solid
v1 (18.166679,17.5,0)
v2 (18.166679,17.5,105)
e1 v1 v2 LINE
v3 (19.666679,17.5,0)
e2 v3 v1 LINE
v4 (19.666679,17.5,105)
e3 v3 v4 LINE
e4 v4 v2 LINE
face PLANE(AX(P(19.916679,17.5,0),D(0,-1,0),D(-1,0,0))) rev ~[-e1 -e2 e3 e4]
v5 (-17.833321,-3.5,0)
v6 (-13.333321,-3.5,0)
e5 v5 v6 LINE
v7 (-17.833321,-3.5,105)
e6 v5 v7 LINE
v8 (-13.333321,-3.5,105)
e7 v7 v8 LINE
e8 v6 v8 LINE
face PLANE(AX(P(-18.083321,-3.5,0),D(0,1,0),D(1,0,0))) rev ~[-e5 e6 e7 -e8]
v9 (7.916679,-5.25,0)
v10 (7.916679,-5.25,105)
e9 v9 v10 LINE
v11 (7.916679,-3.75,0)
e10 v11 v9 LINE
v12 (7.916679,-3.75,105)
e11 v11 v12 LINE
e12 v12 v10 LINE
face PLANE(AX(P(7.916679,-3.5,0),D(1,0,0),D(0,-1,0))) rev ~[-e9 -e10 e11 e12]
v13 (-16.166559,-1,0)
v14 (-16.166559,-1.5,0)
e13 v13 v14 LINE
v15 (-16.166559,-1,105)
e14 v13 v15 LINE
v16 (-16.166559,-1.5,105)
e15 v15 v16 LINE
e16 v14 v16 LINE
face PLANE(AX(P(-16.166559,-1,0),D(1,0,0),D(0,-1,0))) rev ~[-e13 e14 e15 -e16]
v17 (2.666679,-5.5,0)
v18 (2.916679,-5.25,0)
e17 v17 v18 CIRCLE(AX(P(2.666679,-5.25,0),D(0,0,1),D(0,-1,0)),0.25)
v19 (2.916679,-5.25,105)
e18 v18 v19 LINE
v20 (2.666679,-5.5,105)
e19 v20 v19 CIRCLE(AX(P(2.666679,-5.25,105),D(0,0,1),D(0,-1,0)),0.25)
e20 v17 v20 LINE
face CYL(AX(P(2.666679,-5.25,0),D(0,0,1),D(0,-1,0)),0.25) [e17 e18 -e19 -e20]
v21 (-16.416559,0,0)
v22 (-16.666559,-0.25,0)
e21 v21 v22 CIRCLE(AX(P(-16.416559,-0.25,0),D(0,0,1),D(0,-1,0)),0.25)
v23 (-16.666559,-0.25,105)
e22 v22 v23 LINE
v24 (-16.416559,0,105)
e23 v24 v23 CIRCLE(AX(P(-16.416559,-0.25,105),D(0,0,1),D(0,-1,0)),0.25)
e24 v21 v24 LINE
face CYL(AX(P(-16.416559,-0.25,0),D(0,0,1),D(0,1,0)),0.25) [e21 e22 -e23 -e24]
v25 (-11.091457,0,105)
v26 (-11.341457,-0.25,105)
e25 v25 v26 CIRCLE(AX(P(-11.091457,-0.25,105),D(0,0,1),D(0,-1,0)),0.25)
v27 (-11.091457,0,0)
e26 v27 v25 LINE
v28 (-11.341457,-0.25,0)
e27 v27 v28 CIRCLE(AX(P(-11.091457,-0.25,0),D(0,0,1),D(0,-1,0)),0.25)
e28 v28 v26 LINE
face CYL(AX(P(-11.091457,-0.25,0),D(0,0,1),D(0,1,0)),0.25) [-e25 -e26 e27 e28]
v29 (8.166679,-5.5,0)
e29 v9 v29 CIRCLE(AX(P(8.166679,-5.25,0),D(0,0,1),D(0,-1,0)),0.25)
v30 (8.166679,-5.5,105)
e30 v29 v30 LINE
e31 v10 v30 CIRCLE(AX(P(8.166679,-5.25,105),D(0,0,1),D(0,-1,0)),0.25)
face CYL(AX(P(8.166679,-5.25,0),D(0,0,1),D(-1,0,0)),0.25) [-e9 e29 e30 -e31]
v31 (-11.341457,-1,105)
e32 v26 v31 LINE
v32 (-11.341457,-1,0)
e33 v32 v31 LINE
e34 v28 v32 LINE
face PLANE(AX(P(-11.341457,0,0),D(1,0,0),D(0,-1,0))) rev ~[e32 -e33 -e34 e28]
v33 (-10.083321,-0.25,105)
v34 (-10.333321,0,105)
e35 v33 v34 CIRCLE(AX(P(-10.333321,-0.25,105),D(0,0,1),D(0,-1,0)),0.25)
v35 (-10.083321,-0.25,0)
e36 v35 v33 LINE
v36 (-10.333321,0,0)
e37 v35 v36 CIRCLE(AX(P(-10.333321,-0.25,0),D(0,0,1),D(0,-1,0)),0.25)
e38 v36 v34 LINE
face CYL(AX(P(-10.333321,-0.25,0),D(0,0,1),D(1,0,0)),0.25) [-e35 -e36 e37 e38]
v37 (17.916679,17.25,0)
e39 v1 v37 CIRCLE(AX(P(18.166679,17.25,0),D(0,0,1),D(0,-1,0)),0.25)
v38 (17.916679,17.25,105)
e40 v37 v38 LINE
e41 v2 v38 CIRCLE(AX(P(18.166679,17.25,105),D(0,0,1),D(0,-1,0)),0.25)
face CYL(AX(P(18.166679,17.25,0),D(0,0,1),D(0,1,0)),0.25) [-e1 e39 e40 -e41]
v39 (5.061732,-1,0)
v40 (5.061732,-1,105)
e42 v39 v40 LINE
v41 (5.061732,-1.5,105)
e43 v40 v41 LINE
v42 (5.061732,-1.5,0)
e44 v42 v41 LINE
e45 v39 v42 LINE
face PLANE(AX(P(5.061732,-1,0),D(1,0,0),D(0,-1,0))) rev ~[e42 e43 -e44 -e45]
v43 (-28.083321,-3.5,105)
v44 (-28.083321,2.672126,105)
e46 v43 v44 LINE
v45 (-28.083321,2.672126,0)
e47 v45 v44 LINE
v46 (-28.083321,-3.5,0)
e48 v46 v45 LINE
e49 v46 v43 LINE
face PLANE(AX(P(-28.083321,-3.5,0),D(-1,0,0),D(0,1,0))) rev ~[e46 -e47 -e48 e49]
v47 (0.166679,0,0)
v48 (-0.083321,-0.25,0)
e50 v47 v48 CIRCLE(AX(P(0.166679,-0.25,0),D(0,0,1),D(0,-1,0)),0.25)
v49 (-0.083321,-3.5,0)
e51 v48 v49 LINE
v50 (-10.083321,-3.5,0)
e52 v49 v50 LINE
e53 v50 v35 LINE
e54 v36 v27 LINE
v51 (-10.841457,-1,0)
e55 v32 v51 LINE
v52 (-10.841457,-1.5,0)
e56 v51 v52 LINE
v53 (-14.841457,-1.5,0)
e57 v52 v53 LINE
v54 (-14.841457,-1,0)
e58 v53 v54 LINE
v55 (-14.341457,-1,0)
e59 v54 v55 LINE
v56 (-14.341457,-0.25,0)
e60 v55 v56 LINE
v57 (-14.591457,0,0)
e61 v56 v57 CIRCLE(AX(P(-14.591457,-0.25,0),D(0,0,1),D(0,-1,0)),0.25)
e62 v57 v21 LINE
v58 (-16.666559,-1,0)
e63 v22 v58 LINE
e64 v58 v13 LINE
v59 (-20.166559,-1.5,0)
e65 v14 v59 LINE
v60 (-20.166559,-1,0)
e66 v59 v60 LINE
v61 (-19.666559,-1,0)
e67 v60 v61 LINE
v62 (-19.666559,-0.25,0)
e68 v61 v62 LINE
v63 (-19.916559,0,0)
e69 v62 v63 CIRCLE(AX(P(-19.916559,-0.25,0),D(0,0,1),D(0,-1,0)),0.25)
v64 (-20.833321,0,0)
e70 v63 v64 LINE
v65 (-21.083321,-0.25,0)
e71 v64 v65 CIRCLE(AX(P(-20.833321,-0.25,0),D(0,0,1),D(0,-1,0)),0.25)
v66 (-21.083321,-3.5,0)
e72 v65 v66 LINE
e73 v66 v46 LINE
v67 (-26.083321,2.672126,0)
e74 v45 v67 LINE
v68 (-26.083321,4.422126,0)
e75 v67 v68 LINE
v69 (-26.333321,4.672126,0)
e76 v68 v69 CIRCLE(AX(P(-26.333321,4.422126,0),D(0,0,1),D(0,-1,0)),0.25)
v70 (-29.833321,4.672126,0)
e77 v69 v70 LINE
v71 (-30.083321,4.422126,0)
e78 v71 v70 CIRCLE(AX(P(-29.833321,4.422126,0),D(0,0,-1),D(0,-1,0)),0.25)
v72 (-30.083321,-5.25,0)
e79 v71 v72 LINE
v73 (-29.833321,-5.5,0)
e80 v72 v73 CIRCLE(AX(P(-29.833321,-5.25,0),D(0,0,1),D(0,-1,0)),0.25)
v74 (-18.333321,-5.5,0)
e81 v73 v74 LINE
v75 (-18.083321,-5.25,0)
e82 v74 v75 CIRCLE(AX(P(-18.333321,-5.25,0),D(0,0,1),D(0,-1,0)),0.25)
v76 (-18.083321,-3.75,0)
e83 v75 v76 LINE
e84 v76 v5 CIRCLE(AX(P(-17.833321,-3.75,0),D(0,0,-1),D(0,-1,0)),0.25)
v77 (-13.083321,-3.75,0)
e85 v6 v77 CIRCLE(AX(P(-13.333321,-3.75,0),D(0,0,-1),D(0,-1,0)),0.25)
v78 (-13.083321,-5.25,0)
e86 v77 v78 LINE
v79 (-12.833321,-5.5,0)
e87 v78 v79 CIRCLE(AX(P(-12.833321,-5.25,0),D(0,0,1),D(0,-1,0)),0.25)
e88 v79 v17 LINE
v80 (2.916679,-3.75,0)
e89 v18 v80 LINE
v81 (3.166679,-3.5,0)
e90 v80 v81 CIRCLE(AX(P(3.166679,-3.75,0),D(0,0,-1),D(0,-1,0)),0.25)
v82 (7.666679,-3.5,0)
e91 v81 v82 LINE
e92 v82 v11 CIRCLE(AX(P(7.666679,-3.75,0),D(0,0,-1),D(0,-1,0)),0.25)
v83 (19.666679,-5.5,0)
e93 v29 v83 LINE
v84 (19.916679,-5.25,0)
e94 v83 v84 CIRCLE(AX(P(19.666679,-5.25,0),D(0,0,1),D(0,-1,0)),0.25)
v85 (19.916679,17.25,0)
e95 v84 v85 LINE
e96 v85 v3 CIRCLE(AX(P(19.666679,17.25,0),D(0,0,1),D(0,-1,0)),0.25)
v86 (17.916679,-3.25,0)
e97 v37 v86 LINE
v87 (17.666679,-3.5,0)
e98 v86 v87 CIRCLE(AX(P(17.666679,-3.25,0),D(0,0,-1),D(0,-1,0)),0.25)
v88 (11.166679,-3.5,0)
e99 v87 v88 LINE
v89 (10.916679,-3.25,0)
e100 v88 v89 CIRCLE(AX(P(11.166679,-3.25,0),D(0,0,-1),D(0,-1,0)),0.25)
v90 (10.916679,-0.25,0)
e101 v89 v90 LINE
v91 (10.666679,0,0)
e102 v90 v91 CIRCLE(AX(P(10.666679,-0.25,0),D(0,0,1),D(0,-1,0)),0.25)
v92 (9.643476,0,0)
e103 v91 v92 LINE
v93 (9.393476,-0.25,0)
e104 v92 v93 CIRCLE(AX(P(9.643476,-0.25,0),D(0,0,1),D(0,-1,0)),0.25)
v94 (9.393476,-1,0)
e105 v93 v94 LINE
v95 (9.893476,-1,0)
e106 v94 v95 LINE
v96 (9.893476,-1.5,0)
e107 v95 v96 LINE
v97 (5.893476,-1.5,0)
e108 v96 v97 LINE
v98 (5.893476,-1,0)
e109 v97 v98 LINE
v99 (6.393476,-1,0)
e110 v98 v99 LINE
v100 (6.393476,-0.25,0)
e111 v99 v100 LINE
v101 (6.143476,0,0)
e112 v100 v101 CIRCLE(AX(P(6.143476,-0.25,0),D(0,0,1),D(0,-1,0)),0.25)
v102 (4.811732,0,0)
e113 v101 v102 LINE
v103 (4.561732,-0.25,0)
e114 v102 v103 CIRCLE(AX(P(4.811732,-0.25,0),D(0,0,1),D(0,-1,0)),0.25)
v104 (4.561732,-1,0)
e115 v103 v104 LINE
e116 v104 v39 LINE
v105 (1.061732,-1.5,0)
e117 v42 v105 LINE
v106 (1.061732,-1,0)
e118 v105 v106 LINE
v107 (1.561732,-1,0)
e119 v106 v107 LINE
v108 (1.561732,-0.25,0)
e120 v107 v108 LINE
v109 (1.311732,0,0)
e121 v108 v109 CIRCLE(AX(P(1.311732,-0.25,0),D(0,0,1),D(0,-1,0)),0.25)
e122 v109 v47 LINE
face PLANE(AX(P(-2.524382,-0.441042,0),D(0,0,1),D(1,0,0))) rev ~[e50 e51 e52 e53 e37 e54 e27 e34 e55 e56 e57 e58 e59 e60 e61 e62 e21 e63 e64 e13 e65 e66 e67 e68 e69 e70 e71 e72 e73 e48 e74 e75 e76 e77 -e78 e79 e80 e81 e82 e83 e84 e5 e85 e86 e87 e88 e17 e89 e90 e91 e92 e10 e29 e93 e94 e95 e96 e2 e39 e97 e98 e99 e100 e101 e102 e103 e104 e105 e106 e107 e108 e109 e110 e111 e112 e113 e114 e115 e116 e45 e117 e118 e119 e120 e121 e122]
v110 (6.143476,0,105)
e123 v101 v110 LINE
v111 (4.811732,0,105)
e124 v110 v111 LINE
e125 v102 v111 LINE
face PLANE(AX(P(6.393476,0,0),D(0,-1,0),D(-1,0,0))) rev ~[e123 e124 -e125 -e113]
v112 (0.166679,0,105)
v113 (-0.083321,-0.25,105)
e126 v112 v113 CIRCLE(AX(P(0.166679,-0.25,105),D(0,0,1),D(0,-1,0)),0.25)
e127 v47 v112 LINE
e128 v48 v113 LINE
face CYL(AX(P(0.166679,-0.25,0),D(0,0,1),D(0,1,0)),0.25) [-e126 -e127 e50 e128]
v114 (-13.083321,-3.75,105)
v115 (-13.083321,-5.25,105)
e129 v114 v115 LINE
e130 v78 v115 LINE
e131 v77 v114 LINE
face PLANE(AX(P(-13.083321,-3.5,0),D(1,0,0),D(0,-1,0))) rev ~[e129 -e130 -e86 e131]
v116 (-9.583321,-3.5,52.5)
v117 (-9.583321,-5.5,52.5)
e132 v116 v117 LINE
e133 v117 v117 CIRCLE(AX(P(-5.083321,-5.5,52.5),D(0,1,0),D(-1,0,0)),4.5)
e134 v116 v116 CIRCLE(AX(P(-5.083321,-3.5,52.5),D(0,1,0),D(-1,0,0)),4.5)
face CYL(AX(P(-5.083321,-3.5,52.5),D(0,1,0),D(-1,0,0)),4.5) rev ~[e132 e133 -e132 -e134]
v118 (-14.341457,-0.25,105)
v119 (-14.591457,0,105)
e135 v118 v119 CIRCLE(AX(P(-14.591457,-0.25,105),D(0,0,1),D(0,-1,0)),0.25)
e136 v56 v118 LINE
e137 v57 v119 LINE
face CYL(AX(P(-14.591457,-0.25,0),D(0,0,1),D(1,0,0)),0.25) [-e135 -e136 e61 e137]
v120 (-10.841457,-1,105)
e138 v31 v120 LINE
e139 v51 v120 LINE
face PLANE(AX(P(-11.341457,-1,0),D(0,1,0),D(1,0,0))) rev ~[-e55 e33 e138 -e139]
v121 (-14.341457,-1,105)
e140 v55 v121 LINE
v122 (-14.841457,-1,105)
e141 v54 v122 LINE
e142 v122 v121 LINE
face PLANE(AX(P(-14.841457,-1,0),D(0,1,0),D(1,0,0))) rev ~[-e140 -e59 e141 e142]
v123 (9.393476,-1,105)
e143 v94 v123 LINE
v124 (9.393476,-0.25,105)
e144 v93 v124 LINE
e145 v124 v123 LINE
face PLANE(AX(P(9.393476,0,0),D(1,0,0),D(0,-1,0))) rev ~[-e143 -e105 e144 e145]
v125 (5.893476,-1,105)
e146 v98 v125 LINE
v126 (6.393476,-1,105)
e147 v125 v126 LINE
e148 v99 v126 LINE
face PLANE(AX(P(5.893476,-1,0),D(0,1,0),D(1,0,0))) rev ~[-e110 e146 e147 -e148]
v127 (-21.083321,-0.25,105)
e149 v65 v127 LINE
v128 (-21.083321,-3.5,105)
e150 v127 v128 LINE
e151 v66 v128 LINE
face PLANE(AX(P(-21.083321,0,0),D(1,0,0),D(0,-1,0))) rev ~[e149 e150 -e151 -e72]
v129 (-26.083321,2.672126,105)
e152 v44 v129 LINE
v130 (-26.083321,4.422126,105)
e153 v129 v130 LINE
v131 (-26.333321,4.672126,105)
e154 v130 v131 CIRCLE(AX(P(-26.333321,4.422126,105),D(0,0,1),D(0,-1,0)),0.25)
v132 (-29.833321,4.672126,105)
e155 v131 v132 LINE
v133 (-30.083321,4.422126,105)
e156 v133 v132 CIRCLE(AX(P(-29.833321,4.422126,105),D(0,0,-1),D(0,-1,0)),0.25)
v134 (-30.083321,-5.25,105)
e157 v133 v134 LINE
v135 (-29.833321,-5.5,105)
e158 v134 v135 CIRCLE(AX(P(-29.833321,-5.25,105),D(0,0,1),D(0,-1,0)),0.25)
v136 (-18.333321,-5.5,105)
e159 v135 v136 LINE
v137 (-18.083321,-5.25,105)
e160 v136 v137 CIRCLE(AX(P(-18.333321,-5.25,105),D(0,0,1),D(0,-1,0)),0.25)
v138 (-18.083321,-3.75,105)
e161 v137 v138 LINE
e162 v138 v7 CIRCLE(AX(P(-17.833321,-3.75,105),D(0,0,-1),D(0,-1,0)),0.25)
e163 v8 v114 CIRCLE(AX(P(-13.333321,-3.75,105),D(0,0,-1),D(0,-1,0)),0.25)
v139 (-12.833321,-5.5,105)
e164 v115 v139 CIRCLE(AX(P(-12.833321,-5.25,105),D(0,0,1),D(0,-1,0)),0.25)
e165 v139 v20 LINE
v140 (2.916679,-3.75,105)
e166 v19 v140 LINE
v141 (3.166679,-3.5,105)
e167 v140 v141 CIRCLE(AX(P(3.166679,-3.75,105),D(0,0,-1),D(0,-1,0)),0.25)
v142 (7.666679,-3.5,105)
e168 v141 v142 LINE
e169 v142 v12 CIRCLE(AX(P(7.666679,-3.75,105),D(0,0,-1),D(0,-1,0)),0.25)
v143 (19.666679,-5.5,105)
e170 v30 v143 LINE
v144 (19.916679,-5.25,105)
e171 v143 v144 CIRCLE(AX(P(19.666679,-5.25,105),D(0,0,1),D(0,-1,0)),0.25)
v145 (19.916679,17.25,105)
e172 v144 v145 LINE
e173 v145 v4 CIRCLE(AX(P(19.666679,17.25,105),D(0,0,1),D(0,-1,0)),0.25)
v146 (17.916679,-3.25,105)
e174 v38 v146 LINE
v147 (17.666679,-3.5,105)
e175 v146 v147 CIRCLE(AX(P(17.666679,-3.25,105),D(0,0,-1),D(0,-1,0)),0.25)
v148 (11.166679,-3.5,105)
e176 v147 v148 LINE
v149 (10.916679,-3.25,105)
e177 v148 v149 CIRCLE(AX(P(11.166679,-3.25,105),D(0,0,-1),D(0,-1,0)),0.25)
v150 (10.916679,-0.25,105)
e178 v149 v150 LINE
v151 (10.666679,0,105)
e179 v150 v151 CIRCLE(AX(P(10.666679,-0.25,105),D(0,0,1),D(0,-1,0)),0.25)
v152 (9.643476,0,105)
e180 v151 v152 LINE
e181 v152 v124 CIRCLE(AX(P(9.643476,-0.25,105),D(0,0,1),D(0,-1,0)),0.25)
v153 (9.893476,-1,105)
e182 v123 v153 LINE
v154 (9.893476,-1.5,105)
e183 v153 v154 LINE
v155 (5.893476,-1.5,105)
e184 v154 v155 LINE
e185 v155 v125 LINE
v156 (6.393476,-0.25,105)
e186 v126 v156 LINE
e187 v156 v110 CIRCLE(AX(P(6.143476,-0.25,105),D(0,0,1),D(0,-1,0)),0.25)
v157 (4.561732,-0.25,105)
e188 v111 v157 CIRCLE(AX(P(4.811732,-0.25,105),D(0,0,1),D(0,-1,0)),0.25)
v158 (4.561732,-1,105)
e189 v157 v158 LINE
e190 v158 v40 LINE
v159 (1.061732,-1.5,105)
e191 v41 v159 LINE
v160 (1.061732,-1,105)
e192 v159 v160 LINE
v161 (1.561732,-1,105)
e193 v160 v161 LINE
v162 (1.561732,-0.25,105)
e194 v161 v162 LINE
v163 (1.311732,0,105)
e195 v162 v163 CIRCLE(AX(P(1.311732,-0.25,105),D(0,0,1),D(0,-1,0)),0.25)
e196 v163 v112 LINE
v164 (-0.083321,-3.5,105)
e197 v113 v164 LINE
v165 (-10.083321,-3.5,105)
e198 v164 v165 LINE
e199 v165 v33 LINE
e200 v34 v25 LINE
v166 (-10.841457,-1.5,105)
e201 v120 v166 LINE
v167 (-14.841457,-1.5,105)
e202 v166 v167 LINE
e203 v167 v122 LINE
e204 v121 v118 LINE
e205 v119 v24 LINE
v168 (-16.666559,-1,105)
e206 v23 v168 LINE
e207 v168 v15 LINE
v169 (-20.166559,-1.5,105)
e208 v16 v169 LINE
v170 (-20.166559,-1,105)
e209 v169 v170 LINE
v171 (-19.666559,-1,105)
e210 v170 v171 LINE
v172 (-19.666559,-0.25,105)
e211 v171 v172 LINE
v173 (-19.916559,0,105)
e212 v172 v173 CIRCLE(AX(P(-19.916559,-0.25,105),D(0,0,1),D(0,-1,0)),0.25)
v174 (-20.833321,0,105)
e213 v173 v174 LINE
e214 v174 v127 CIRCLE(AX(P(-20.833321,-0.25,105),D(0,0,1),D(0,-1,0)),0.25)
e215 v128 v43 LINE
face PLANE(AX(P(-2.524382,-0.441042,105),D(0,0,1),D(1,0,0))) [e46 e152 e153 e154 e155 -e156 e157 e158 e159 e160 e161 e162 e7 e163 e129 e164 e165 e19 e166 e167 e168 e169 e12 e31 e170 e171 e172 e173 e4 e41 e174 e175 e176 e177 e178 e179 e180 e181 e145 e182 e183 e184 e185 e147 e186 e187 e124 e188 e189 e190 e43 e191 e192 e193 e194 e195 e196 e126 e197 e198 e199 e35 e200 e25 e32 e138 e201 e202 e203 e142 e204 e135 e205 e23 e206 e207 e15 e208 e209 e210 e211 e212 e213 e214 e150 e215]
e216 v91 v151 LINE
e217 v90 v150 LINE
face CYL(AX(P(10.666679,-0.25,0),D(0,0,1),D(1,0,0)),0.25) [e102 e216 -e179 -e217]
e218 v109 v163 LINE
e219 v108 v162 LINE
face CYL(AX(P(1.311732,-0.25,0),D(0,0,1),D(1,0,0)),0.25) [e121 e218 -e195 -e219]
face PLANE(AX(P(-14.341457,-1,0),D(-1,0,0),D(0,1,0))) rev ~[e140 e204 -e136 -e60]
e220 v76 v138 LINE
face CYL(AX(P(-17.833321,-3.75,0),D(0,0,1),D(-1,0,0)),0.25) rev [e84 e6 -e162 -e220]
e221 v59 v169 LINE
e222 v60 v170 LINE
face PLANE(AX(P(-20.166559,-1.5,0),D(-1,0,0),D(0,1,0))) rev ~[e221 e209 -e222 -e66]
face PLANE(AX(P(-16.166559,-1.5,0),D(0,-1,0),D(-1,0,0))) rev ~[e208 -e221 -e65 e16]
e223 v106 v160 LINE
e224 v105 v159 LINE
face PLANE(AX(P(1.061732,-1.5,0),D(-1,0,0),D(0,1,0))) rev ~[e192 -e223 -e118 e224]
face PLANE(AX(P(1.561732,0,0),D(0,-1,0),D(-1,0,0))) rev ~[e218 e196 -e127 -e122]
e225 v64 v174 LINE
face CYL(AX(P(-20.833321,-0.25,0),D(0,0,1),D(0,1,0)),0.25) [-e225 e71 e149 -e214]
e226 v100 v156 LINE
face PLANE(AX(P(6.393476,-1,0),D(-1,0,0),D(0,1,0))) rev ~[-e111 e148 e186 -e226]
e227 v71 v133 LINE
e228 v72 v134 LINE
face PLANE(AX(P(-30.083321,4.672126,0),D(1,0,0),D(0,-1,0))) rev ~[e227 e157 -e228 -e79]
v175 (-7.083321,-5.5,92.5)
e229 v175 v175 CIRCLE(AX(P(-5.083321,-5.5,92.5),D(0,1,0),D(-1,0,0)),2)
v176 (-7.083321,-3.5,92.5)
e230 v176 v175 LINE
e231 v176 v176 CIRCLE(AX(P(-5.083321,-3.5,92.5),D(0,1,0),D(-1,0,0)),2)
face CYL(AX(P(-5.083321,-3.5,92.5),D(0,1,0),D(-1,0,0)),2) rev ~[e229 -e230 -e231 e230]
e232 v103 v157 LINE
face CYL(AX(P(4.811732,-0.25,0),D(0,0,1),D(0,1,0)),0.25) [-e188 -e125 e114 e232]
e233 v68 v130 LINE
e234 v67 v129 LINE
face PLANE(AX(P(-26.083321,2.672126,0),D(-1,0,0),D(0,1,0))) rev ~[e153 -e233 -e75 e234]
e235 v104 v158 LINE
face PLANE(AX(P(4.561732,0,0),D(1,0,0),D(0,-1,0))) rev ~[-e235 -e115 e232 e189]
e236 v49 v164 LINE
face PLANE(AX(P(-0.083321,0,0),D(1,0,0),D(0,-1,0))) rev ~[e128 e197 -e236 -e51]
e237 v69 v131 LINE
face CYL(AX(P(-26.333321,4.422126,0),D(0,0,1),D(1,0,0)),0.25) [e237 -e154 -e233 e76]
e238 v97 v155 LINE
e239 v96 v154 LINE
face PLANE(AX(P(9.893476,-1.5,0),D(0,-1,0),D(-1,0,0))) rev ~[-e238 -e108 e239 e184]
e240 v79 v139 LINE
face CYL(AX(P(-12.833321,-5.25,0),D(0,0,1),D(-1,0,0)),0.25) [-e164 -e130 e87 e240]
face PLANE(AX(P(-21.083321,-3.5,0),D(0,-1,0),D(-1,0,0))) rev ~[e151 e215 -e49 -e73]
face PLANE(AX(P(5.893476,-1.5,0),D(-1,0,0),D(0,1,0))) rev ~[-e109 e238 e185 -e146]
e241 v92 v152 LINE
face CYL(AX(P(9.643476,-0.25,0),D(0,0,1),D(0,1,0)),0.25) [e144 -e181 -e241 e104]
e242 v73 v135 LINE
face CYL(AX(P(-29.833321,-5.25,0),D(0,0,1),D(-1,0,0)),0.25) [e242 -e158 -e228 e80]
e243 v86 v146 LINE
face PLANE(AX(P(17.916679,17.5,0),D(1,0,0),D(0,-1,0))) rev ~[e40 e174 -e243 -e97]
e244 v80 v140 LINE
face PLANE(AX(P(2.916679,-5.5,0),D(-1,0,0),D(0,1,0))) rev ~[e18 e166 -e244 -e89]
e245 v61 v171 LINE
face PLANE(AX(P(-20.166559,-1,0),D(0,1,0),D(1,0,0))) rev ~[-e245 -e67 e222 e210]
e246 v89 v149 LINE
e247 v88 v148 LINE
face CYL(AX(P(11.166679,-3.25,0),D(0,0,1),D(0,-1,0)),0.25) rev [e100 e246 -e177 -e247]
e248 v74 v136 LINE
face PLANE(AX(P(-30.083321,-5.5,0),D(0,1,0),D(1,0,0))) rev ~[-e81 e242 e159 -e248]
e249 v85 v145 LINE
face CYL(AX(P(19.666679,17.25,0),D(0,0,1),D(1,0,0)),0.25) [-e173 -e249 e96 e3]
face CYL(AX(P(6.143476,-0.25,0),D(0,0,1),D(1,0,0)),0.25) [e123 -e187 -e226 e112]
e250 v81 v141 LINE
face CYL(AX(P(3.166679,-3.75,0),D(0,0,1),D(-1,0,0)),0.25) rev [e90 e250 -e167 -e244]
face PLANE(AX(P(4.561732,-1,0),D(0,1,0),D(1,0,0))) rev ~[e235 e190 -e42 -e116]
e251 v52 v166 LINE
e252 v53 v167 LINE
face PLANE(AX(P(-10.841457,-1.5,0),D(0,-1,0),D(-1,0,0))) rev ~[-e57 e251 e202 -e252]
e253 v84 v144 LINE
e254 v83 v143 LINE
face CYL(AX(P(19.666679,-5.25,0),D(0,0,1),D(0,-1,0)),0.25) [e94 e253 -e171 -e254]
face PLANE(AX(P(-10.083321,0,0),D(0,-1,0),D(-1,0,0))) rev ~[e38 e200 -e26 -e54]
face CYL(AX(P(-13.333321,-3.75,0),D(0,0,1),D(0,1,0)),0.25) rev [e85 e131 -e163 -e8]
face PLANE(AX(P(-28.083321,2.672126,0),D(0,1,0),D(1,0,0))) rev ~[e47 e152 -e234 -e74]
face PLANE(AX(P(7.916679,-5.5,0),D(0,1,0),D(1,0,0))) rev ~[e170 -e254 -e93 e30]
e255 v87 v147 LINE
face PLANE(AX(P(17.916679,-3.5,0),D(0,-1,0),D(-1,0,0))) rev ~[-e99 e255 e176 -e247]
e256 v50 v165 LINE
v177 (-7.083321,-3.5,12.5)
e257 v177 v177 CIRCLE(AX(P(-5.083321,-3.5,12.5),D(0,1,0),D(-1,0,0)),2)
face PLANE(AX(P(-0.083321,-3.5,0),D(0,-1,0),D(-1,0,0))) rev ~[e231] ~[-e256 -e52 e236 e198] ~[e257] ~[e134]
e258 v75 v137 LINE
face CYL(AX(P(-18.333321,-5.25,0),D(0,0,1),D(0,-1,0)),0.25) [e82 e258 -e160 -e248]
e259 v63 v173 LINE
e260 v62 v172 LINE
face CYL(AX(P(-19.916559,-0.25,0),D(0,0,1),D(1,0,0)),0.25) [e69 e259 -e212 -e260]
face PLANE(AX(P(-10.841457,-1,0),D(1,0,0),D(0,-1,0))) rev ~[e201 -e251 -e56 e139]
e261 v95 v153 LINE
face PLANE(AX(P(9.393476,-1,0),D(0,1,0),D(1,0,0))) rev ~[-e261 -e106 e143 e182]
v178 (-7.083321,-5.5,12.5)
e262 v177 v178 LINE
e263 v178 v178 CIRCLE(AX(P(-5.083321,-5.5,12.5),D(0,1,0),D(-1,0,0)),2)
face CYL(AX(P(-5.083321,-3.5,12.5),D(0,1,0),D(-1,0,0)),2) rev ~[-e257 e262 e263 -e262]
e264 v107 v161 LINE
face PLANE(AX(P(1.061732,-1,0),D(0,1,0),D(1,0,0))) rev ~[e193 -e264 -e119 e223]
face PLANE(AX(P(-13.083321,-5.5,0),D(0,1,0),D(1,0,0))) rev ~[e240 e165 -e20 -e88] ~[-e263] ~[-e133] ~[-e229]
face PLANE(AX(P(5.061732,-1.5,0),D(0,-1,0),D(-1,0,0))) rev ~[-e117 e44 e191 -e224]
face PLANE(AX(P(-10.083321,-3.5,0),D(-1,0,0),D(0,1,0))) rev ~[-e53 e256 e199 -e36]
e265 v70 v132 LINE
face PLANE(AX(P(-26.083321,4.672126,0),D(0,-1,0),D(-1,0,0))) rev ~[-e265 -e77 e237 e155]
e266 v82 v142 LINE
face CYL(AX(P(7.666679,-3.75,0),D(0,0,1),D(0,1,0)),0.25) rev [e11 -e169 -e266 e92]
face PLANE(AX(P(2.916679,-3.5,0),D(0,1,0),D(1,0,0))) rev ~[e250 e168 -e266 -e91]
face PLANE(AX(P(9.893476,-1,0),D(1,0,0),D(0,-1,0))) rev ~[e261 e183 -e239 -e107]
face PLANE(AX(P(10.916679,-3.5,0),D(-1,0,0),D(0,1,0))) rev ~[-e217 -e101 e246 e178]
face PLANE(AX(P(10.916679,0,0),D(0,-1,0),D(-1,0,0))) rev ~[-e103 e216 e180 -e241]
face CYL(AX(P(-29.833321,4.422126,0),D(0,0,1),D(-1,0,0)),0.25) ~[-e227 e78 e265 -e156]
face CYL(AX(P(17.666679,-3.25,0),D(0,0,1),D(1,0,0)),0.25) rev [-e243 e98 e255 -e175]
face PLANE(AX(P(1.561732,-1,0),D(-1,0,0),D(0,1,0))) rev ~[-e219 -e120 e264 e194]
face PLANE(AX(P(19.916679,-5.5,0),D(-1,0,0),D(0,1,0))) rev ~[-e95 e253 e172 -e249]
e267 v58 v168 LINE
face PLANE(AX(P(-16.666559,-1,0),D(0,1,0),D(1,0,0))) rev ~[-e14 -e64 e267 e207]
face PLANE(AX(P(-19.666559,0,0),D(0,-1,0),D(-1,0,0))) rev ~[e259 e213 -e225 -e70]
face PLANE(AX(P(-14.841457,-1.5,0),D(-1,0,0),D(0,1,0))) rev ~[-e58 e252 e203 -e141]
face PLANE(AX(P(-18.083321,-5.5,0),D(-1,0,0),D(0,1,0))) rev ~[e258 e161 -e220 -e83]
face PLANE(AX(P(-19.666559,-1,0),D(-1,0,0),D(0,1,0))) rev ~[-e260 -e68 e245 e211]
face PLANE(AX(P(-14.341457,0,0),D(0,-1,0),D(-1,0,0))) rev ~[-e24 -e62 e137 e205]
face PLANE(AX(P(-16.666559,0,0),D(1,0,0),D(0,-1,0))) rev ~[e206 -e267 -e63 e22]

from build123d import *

# Parameters (mm, degrees)
F1_DEPTH = 105
F2_R     = 0.25
F3_R     = 2
F3_R_2   = 4.5
F4_DEPTH = 25


with BuildPart() as f1:
    # F0 (on Top) → F1 (new body)
    with BuildSketch(Plane.XY):
        Polygon((-30.083321, 4.672126), (-30.083321, -5.5), (-18.083321, -5.5), (-18.083321, -3.5), (-13.083321, -3.5), (-13.083321, -5.5), (2.916679, -5.5), (2.916679, -3.5), (7.916679, -3.5), (7.916679, -5.5), (19.916679, -5.5), (19.916679, 17.5), (17.916679, 17.5), (17.916679, -3.5), (10.916679, -3.5), (10.916679, 0), (9.393476, 0), (9.393476, -1), (9.893476, -1), (9.893476, -1.5), (5.893476, -1.5), (5.893476, -1), (6.393476, -1), (6.393476, 0), (4.561732, 0), (4.561732, -1), (5.061732, -1), (5.061732, -1.5), (1.061732, -1.5), (1.061732, -1), (1.561732, -1), (1.561732, 0), (-0.083321, 0), (-0.083321, -3.5), (-10.083321, -3.5), (-10.083321, 0), (-11.341457, 0), (-11.341457, -1), (-10.841457, -1), (-10.841457, -1.5), (-14.841457, -1.5), (-14.841457, -1), (-14.341457, -1), (-14.341457, 0), (-16.666559, 0), (-16.666559, -1), (-16.166559, -1), (-16.166559, -1.5), (-20.166559, -1.5), (-20.166559, -1), (-19.666559, -1), (-19.666559, 0), (-21.083321, 0), (-21.083321, -3.5), (-28.083321, -3.5), (-28.083321, 2.672126), (-26.083321, 2.672126), (-26.083321, 4.672126), align=None)
    extrude(amount=F1_DEPTH)

    # F2
    f2_edges = [f1.edges().sort_by_distance(p)[0] for p in [
        (-21.083321, 0, 52.5),
        (-30.083321, 4.672126, 52.5),
        (-26.083321, 4.672126, 52.5),
        (-19.666559, 0, 52.5),
        (-16.666559, 0, 52.5),
        (-14.341457, 0, 52.5),
        (-11.341457, 0, 52.5),
        (-10.083321, 0, 52.5),
        (-0.083321, 0, 52.5),
        (1.561732, 0, 52.5),
        (4.561732, 0, 52.5),
        (6.393476, 0, 52.5),
        (9.393476, 0, 52.5),
        (10.916679, 0, 52.5),
        (17.916679, 17.5, 52.5),
        (-30.083321, -5.5, 52.5),
        (19.916679, 17.5, 52.5),
        (10.916679, -3.5, 52.5),
        (17.916679, -3.5, 52.5),
        (19.916679, -5.5, 52.5),
        (2.916679, -5.5, 52.5),
        (7.916679, -5.5, 52.5),
        (-13.083321, -5.5, 52.5),
        (-18.083321, -5.5, 52.5),
        (-18.083321, -3.5, 52.5),
        (-13.083321, -3.5, 52.5),
        (2.916679, -3.5, 52.5),
        (7.916679, -3.5, 52.5),
    ]]
    fillet(f2_edges, radius=F2_R)

    # F3 (on face) → F4 (cut)
    with BuildSketch(Plane(origin=(0, -3.5, 0), x_dir=(-1, 0, 0), z_dir=(0, 1, 0))):
        with Locations((5.083321, 92.5)):
            Circle(F3_R)
        with Locations((5.083321, 12.5)):
            Circle(F3_R)
        with Locations((5.083321, 52.5)):
            Circle(F3_R_2)
    extrude(amount=-F4_DEPTH, mode=Mode.SUBTRACT)


solid = f1.part
